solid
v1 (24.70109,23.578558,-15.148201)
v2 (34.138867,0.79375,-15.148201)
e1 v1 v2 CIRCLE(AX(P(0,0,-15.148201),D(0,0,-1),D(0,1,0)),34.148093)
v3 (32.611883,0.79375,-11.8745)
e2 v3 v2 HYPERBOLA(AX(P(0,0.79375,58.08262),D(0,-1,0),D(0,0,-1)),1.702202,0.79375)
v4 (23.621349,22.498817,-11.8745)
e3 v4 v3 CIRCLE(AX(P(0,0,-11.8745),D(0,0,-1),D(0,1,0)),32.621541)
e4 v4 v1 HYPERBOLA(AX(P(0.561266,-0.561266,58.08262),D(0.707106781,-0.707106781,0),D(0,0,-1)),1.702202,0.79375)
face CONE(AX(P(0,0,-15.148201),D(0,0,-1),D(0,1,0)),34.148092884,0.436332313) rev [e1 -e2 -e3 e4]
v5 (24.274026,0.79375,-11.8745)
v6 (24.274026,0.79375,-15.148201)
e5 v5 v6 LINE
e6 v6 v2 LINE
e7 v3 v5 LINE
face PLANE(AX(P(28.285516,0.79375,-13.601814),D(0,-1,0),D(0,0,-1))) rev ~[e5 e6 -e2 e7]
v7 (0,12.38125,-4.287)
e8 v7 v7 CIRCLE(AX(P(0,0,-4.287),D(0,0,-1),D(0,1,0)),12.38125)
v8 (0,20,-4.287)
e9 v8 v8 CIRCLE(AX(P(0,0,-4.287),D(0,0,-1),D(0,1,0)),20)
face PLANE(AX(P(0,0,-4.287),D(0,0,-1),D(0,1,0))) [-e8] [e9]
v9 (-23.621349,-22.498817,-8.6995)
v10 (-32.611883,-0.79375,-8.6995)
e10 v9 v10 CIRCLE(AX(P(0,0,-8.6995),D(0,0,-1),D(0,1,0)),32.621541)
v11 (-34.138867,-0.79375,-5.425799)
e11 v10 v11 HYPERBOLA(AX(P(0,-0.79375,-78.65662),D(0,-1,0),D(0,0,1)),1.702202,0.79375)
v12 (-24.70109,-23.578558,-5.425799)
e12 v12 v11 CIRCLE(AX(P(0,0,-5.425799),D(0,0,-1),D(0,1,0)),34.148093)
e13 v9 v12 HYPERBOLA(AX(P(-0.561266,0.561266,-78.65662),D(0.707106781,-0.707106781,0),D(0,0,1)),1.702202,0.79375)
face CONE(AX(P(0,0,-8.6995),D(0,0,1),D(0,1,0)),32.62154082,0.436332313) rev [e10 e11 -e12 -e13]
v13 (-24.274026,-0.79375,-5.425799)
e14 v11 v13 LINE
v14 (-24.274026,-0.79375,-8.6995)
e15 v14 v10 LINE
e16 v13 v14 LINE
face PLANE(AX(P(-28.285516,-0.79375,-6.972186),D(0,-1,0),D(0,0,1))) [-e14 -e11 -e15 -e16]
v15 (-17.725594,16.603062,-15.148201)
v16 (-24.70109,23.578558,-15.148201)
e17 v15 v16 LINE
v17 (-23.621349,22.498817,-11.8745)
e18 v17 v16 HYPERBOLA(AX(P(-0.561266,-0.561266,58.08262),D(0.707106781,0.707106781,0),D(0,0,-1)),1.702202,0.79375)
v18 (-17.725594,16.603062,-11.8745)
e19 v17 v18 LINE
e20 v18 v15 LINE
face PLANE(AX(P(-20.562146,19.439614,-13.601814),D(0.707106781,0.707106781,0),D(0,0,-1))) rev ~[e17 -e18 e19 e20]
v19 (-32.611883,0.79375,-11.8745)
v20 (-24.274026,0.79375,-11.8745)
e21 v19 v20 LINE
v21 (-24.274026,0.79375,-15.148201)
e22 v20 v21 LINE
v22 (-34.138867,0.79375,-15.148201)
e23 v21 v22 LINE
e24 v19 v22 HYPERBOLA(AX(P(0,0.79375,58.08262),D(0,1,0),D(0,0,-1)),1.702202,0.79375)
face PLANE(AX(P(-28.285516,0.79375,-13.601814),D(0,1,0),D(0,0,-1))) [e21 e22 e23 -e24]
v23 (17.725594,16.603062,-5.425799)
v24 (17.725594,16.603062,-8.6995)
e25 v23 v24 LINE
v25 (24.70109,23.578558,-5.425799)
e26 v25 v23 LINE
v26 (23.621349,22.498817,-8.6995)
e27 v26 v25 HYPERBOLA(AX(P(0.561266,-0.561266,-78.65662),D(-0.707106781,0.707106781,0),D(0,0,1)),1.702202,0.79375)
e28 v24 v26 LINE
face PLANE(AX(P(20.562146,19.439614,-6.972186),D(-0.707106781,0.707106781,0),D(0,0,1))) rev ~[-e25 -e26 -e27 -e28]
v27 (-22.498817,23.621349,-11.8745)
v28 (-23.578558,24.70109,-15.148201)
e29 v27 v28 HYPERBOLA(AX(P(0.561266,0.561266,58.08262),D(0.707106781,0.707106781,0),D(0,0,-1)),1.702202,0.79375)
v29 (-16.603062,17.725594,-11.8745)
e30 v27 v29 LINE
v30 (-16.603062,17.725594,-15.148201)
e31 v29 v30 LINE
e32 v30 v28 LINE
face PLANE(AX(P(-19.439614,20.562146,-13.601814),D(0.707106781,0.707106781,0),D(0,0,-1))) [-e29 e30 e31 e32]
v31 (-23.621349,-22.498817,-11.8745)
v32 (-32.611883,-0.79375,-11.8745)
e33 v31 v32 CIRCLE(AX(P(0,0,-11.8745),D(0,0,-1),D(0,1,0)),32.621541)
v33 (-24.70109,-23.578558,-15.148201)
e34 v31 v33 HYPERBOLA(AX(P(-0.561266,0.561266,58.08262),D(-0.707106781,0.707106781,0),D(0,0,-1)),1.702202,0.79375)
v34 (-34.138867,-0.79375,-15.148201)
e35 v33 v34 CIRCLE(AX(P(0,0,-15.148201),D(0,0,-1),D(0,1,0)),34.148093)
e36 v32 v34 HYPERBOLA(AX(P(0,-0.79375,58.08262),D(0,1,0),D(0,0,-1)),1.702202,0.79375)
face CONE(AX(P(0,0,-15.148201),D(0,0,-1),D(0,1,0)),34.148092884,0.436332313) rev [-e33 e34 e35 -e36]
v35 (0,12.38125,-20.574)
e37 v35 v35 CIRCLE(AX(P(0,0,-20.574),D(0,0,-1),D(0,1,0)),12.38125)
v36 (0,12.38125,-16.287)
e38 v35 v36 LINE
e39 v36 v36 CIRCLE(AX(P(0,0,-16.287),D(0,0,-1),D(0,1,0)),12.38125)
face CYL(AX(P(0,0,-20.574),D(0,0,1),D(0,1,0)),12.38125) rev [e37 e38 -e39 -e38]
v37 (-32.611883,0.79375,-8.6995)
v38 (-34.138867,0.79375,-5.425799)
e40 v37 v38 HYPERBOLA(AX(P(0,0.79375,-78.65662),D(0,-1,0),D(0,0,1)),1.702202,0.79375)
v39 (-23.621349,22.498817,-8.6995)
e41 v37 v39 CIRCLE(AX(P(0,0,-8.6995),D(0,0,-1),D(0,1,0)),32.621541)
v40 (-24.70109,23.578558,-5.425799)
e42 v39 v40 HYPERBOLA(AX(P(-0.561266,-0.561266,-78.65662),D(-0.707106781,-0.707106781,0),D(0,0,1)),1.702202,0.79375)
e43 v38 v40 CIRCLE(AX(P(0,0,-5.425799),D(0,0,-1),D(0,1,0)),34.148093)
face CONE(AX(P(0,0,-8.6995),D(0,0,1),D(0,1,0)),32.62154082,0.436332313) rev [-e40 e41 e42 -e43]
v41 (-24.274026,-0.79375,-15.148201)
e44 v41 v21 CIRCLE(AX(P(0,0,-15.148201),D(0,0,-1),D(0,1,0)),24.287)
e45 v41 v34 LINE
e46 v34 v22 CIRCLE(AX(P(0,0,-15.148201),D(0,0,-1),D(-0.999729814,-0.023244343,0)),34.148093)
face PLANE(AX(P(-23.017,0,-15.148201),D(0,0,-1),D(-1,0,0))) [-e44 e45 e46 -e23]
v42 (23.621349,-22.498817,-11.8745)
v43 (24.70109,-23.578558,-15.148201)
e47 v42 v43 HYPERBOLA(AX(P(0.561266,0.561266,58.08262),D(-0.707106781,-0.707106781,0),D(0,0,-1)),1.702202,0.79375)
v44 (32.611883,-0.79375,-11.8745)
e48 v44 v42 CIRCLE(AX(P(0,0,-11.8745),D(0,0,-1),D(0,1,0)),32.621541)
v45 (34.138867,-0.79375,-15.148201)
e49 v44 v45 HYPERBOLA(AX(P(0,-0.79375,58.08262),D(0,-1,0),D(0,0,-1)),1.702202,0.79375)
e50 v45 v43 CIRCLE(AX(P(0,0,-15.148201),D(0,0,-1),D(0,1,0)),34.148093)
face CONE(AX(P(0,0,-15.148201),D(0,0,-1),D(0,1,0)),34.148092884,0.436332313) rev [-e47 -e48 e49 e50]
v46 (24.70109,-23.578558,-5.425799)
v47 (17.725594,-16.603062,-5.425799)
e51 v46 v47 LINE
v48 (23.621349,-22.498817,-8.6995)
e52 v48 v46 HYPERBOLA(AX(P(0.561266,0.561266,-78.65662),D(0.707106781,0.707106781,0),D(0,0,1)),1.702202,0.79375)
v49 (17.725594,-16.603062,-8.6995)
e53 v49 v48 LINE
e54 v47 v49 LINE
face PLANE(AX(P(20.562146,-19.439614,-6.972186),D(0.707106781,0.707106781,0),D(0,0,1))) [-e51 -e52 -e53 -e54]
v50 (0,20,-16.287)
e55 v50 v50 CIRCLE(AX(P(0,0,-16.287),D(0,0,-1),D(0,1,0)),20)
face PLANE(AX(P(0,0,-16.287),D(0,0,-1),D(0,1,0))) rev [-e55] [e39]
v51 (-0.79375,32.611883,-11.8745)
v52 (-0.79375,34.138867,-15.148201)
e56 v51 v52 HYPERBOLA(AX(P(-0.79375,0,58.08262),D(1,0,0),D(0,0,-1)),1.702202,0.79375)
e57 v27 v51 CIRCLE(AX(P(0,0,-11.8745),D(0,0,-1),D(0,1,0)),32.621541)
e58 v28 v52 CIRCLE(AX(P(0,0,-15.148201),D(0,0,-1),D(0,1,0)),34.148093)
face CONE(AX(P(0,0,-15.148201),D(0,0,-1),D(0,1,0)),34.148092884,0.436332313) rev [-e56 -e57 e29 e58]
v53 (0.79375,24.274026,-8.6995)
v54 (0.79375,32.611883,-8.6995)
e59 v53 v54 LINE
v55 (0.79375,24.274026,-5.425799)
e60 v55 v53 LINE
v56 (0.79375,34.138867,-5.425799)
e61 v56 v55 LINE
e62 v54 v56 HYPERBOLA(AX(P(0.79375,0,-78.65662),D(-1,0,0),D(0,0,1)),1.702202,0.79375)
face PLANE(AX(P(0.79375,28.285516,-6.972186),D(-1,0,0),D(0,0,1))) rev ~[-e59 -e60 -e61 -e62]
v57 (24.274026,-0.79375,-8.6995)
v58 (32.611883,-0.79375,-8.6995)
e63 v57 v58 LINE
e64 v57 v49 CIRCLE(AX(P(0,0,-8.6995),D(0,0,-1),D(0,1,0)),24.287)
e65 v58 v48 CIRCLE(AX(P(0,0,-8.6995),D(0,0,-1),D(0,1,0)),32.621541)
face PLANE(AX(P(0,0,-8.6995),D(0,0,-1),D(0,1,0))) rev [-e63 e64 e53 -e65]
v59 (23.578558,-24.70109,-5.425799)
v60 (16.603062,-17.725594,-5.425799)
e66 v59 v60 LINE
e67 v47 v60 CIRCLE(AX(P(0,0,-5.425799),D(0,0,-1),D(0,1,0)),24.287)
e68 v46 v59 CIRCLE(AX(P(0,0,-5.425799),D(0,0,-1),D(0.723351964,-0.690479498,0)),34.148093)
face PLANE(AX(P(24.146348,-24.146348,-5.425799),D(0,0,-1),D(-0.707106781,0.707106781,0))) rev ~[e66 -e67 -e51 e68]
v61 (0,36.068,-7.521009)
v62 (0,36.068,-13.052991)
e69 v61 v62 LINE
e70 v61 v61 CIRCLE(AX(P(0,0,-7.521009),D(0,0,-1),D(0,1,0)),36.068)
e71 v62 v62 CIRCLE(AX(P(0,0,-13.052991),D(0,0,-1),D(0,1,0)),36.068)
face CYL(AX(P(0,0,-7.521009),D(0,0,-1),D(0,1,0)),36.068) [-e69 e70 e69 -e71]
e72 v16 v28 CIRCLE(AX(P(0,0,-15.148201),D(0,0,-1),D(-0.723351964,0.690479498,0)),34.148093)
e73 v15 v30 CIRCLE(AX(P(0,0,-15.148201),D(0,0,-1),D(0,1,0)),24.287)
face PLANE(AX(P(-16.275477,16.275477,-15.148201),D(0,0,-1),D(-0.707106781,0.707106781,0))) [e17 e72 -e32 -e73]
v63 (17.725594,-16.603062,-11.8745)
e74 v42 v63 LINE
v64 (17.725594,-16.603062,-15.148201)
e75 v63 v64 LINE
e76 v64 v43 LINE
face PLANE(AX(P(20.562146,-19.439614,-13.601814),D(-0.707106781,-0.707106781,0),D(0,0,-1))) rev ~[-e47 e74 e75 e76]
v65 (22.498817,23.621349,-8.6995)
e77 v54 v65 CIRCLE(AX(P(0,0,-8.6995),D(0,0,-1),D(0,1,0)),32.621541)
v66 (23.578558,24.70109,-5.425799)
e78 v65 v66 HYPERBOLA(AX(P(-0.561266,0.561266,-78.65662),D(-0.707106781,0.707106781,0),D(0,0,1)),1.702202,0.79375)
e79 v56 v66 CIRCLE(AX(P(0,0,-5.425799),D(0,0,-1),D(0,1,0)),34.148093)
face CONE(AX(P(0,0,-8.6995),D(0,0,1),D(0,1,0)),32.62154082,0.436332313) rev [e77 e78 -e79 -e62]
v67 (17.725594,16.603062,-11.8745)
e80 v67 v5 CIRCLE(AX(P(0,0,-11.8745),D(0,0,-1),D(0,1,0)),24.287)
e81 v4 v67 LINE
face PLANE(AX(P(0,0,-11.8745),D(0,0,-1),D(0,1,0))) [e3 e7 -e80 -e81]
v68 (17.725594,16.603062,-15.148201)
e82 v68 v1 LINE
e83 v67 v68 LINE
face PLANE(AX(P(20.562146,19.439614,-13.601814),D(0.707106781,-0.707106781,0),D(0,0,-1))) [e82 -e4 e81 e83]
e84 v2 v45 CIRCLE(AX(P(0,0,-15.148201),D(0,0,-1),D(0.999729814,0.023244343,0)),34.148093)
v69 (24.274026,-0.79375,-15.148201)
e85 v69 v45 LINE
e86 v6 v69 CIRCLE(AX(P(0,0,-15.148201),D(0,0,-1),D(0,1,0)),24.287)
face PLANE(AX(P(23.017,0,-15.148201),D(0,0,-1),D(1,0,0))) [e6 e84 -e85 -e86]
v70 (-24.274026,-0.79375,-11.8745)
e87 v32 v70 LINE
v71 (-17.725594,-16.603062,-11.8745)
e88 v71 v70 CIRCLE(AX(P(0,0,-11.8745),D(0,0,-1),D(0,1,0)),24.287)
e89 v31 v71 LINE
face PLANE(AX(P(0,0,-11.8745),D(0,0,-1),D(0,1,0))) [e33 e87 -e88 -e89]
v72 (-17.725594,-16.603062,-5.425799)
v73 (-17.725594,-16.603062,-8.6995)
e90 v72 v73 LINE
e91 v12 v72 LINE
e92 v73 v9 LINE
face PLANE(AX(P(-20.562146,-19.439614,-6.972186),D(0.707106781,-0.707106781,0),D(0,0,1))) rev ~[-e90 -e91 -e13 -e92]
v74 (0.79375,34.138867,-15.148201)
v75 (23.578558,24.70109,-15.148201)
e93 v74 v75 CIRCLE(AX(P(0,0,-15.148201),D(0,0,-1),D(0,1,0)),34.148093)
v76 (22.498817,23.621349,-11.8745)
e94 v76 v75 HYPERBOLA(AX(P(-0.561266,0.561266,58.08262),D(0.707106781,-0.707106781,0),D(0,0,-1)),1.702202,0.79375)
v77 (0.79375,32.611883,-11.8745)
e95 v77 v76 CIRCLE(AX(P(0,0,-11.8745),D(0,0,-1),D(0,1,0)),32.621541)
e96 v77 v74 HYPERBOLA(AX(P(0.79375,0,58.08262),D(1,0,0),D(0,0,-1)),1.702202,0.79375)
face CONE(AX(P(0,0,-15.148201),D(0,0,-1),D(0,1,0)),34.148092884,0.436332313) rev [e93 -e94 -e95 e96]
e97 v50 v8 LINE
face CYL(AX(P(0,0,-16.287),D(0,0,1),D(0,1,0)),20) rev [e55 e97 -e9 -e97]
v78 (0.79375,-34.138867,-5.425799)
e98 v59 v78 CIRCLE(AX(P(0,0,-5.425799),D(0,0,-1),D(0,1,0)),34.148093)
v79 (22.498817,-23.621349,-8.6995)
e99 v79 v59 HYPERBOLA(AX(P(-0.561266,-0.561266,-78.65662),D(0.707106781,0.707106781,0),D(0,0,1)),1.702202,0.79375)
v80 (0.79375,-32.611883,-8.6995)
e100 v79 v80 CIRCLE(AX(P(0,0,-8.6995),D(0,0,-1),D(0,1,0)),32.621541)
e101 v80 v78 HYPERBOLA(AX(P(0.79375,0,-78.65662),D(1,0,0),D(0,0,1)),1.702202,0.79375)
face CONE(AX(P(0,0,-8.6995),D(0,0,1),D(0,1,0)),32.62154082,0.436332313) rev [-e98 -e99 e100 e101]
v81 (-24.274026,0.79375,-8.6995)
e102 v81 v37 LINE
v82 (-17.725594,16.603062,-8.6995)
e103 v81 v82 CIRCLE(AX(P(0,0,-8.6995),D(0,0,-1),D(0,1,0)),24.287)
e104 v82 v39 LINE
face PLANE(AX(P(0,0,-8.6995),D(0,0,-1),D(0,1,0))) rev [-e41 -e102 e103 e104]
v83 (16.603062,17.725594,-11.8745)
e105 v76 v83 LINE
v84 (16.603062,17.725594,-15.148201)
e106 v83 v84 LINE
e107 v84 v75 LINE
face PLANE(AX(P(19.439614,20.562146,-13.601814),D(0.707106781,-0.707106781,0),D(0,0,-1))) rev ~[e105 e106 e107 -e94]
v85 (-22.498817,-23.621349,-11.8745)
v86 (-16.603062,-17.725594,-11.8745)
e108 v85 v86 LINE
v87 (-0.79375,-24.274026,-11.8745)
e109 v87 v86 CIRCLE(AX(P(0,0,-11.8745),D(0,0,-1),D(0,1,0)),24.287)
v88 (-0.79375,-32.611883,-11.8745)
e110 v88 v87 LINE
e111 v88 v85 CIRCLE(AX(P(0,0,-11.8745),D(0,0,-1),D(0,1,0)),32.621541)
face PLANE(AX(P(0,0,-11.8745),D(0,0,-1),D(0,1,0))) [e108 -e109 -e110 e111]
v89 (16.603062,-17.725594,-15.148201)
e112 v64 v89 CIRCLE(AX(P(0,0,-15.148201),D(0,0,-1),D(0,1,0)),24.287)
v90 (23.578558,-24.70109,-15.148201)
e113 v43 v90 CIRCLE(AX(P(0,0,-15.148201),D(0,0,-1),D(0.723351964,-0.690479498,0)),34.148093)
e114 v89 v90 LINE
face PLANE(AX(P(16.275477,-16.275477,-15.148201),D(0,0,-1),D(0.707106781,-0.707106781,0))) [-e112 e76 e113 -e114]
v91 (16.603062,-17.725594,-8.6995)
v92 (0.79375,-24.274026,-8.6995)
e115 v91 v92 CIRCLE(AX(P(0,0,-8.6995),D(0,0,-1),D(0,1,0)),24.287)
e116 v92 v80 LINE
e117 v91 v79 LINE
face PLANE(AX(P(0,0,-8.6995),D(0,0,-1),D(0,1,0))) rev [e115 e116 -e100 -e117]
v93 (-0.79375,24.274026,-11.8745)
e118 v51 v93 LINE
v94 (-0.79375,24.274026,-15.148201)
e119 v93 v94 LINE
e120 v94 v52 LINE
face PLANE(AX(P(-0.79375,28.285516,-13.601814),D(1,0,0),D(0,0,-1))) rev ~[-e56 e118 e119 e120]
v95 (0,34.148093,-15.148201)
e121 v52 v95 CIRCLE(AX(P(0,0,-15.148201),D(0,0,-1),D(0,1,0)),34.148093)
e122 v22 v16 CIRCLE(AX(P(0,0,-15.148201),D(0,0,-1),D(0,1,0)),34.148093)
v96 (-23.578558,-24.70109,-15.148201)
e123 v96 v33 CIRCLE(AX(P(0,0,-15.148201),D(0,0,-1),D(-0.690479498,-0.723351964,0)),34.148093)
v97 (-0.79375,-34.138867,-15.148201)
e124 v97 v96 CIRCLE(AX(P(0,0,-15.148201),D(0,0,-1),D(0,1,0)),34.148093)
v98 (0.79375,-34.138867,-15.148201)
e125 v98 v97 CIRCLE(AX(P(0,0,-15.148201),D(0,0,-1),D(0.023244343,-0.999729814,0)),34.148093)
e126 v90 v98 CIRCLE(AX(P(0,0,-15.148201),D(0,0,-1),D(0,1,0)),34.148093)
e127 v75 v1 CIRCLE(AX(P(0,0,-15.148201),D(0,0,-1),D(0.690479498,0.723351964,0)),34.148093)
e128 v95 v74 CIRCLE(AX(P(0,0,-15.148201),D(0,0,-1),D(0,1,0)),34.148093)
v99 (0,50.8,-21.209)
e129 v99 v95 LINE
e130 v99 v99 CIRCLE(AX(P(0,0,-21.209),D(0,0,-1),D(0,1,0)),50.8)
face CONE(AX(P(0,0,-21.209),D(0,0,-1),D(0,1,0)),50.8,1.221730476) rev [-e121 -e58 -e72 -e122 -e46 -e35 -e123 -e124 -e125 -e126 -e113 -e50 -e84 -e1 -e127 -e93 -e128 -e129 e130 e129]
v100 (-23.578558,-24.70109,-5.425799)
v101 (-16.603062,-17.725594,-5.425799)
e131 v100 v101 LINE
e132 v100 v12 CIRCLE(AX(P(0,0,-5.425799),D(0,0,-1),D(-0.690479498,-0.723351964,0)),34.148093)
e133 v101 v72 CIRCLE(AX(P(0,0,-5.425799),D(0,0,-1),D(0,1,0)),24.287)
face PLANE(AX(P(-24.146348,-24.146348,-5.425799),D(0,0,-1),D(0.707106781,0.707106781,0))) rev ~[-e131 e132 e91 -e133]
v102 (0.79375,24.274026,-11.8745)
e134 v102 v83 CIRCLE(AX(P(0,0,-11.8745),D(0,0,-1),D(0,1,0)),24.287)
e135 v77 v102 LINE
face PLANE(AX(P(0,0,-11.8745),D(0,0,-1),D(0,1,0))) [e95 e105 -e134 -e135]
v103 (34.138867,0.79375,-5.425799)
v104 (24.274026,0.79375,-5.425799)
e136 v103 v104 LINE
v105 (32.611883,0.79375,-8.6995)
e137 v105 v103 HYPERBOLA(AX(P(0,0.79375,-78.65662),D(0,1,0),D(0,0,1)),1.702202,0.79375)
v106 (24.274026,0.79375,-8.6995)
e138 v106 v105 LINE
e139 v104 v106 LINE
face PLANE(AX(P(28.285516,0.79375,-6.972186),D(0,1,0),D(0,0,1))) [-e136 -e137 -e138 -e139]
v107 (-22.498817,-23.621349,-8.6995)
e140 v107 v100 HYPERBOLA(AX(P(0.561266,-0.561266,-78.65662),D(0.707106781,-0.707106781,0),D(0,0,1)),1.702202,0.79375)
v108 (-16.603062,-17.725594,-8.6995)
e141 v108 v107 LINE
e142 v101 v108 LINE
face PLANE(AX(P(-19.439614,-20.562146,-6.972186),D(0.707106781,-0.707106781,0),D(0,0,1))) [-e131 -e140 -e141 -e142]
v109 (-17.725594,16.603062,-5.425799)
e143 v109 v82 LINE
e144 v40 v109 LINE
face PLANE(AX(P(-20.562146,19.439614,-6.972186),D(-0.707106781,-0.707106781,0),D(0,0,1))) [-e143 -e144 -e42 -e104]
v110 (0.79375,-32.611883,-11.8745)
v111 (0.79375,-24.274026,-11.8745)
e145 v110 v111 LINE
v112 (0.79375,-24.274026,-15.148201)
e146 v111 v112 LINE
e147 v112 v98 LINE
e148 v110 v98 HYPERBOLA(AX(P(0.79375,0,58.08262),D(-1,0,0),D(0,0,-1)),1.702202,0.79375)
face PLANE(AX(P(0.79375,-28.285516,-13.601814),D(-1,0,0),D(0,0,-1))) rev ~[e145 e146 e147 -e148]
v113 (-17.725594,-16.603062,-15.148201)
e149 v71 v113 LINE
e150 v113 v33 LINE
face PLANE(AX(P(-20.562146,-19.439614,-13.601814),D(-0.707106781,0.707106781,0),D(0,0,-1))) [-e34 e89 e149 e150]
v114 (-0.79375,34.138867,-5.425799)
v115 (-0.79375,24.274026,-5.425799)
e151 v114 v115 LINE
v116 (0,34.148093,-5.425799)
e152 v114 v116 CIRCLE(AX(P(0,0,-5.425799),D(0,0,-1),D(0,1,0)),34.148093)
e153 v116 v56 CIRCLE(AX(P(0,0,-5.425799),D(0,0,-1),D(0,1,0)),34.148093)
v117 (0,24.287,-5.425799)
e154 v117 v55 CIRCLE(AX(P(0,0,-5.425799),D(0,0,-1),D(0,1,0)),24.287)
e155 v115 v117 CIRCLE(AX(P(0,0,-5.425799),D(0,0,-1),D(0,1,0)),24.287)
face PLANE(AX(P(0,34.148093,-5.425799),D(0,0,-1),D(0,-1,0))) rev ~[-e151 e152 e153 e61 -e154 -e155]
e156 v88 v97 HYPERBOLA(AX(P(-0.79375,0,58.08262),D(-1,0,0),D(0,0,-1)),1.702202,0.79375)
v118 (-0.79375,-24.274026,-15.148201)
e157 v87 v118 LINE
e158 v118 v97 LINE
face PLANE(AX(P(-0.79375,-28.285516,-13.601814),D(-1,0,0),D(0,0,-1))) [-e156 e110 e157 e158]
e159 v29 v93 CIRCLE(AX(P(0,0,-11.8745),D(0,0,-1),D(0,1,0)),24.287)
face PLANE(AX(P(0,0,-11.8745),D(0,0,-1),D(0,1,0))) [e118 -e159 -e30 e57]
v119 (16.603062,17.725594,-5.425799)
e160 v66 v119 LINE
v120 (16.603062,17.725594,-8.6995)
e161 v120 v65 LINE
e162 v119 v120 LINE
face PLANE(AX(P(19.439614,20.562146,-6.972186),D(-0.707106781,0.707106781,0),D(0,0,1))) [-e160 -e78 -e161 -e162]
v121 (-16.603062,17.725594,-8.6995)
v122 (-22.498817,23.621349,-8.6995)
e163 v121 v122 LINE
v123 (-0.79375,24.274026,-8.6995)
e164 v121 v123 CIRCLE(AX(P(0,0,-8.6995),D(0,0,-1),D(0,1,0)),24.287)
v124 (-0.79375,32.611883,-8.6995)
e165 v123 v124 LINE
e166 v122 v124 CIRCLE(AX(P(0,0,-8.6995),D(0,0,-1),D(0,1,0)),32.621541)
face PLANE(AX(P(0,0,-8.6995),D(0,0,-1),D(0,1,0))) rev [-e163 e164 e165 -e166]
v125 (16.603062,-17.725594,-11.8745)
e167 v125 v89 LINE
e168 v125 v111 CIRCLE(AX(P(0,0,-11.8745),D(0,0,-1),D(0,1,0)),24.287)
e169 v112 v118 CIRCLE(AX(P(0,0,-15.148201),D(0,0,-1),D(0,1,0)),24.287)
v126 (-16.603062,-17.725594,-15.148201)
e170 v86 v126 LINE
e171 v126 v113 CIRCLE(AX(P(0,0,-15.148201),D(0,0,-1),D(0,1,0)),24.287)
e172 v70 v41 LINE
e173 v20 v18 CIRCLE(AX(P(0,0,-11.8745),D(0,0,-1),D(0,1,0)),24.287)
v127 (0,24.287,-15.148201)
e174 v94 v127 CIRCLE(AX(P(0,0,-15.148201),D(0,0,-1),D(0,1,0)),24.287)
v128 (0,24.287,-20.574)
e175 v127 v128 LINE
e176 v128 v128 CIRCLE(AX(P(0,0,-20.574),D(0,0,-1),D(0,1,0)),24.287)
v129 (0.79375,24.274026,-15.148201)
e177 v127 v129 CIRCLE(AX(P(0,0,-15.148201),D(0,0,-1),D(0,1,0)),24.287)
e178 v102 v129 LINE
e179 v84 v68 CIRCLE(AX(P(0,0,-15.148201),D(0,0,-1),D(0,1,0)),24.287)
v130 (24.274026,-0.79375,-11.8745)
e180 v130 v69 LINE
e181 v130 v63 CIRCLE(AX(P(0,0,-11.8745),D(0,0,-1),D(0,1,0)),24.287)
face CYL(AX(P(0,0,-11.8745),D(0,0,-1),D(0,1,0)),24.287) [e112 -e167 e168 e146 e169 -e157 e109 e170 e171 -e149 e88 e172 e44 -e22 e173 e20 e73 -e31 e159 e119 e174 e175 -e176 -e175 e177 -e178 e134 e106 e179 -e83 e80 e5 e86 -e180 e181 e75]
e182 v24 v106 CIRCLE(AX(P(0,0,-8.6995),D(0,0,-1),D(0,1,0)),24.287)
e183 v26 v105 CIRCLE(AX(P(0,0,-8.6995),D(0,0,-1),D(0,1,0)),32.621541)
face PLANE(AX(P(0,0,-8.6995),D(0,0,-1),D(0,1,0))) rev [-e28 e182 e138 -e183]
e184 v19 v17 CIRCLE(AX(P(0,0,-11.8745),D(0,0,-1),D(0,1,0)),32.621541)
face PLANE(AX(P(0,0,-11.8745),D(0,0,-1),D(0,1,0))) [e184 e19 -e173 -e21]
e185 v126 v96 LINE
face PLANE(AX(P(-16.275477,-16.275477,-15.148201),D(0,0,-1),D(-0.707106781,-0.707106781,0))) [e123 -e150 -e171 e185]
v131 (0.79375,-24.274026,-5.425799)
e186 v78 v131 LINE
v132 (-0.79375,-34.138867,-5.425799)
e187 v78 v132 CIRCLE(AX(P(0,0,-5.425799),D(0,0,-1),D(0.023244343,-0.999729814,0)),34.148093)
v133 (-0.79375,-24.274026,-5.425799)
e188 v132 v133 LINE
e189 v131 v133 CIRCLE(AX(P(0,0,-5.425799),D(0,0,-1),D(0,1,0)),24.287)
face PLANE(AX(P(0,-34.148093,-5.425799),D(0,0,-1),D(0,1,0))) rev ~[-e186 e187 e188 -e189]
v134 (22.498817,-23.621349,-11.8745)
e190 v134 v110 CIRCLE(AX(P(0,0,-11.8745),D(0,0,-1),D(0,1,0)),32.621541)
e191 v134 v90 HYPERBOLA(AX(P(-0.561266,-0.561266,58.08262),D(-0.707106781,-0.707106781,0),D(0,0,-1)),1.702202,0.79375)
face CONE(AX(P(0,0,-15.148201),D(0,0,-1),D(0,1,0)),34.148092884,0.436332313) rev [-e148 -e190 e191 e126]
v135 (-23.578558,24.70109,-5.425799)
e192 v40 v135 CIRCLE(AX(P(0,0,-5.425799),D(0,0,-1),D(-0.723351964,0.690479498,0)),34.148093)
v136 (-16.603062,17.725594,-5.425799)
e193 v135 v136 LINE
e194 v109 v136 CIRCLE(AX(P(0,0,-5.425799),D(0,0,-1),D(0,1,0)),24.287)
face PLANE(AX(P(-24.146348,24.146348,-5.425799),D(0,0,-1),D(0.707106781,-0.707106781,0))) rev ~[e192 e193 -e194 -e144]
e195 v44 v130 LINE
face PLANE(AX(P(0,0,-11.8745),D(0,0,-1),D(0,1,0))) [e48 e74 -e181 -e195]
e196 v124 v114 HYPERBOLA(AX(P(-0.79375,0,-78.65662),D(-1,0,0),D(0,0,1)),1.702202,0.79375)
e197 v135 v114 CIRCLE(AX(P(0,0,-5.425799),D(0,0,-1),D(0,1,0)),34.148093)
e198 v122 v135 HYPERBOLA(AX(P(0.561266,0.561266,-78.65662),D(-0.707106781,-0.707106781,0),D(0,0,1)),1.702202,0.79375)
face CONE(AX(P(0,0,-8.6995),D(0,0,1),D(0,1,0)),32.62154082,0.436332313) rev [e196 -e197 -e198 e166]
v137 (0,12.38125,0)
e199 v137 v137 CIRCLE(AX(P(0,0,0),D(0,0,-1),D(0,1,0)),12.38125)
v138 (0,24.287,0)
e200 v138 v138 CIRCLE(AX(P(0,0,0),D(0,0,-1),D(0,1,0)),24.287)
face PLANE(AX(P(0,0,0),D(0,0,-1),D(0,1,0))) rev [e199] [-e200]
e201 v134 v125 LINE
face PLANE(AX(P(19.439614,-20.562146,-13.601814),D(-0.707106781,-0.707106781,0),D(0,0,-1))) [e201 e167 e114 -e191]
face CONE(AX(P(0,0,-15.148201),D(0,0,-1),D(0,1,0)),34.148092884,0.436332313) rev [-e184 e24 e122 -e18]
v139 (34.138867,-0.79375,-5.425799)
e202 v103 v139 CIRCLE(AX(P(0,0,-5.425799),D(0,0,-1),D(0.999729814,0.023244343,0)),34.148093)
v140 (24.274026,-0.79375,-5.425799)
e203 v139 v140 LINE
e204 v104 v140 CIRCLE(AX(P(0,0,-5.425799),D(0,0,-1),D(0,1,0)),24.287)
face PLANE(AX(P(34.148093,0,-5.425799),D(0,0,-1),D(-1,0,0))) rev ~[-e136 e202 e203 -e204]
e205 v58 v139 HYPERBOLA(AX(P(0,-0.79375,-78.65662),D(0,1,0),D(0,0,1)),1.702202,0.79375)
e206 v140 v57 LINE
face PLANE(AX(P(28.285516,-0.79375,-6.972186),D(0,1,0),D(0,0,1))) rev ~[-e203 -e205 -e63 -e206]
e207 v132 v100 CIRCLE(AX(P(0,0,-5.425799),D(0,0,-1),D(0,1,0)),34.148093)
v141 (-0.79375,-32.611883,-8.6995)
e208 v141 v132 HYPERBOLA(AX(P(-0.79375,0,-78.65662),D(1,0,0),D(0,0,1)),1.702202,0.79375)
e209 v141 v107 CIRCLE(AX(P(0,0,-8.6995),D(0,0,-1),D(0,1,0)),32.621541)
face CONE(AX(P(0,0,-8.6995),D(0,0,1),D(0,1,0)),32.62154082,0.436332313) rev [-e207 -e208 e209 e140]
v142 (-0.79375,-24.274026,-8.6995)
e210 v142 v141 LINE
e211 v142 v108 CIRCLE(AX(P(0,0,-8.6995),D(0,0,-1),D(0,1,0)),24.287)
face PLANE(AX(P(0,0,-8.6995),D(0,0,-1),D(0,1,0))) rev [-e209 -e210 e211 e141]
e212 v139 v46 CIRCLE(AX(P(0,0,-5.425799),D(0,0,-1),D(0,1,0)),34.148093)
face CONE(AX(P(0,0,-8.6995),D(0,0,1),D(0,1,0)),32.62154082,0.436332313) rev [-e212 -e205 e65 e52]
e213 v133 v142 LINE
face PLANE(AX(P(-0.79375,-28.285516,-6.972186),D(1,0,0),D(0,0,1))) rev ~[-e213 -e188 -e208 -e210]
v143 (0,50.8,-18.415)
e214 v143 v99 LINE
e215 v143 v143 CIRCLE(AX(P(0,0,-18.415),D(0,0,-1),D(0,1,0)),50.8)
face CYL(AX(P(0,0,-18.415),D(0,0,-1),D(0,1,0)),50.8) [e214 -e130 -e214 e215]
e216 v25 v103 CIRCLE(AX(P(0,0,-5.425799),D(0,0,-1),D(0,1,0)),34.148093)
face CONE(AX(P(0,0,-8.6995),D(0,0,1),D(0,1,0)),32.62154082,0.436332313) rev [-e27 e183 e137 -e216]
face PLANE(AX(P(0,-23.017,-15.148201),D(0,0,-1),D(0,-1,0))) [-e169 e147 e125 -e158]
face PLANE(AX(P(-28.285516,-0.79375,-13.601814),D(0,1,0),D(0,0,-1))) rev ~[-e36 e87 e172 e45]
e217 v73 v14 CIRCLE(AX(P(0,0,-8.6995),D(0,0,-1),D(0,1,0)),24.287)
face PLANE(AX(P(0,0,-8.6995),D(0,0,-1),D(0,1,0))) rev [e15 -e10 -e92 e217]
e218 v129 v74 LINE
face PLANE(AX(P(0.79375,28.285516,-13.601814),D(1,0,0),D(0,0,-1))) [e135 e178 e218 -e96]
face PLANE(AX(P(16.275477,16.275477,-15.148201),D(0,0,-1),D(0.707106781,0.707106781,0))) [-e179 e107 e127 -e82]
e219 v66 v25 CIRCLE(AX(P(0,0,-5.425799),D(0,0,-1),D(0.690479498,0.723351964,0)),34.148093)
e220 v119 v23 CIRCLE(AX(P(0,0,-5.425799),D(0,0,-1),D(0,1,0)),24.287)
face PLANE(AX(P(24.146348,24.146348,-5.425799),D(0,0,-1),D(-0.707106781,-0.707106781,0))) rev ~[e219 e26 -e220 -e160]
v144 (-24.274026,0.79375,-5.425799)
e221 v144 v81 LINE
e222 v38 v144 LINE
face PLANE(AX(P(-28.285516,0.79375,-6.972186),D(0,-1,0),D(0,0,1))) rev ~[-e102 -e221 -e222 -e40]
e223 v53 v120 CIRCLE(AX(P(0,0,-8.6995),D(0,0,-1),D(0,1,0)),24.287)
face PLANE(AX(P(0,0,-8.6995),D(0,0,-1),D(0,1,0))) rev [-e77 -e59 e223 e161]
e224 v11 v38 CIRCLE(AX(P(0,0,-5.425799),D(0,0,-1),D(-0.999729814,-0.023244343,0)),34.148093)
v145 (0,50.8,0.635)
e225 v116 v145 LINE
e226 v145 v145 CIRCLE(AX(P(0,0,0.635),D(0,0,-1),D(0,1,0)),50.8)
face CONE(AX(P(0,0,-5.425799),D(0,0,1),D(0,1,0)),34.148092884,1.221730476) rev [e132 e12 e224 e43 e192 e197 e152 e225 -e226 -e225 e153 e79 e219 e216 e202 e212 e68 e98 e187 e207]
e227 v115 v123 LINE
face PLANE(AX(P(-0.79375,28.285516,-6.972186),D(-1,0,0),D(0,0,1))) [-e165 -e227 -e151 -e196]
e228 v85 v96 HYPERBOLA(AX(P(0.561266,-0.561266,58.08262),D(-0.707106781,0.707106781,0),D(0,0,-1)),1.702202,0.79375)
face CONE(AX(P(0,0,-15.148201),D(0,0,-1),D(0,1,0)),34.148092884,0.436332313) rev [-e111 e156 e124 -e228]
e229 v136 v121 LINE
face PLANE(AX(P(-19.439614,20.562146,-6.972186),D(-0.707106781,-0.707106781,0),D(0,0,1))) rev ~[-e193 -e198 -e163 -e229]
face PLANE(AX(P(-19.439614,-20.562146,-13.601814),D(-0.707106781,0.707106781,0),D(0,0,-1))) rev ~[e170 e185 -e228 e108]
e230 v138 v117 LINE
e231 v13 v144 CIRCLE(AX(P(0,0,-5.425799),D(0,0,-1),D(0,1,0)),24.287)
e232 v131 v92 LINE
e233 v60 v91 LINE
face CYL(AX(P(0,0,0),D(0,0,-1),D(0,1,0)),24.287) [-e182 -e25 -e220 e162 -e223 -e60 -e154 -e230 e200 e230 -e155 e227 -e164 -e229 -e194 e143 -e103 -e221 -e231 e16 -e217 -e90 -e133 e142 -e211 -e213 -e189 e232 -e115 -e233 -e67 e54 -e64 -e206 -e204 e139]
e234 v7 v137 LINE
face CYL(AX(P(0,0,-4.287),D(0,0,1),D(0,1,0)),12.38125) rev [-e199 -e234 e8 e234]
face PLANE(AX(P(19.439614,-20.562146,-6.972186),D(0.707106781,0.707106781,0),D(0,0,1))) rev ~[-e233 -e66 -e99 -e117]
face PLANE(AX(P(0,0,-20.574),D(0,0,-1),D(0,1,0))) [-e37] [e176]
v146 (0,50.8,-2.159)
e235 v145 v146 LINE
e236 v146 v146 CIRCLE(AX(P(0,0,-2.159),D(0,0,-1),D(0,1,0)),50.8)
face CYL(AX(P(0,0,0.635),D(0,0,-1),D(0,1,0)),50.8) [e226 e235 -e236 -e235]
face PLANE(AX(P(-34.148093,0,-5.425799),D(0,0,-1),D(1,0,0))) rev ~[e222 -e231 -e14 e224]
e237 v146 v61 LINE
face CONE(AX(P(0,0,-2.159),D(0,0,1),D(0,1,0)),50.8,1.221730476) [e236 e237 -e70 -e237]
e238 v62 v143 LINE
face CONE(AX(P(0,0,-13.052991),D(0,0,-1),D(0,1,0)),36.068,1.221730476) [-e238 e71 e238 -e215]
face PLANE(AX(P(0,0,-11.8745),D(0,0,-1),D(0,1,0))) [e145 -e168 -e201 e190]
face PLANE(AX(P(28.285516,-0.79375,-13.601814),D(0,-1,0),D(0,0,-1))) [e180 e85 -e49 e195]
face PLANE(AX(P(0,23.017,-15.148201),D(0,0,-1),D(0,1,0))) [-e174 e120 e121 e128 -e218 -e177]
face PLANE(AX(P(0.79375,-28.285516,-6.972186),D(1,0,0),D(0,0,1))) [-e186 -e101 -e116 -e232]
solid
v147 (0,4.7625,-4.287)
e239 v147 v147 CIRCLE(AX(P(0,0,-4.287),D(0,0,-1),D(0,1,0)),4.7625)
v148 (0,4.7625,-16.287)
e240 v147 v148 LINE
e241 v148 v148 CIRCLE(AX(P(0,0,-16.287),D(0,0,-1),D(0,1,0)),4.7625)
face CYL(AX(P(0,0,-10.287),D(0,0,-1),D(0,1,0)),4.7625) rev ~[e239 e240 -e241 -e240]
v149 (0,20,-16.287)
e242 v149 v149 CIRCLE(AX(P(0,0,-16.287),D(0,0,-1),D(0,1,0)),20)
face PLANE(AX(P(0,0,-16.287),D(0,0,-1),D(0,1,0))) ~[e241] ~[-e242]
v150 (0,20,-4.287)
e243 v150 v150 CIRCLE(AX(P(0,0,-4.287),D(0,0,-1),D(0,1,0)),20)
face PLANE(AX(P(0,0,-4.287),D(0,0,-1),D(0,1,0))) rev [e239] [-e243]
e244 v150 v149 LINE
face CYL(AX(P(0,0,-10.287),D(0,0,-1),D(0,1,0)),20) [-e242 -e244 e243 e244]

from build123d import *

# Parameters (mm, degrees)
SKETCH2_W           = 12
SKETCH2_H           = 15.2375
BOSS_EXTRUDE2_DEPTH = 0.79375
CIRPATTERN1_COUNT   = 8


with BuildPart() as part:
    # Sketch1 → Revolve1 (revolve)
    with BuildSketch(Plane(origin=(0, 0, 0), x_dir=(0, 0, -1), z_dir=(1, 0, 0))):
        Polygon((18.415, 50.8), (21.209, 50.8), (15.148201466, 34.148092884), (11.8745, 32.62154082), (11.8745, 24.287), (20.574, 24.287), (20.574, 12.38125), (16.287, 12.38125), (16.287, 20), (4.287, 20), (4.287, 12.38125), (0, 12.38125), (0, 24.287), (8.6995, 24.287), (8.6995, 32.62154082), (5.425798534, 34.148092884), (-0.635, 50.8), (2.159, 50.8), (7.521009491, 36.068), (13.052990509, 36.068), align=None)
    revolve(axis=Axis((0, 0, 0), (0, 0, -1)))

    # Sketch4 → Boss-Extrude2 (add, symmetric)
    with BuildSketch(Plane(origin=(0, 0, 0), x_dir=(0, 0, -1), z_dir=(1, 0, 0))):
        Polygon((8.6995, 32.62154082), (8.6995, 24.287), (8.6995, 23.017), (5.425798534, 23.017), (5.425798534, 24.287), (5.425798534, 34.148092884), align=None)
        Polygon((15.148201466, 23.017), (15.148201466, 24.287), (15.148201466, 34.148092884), (11.8745, 32.62154082), (11.8745, 24.287), (11.8745, 23.017), align=None)
    boss_extrude2 = extrude(amount=BOSS_EXTRUDE2_DEPTH, both=True)

    # CirPattern1: Boss-Extrude2 ×8 about axis
    cirpattern1_axis = Axis((0, 0, 0), (0, 0, 1))
    for i in range(1, CIRPATTERN1_COUNT):
        add(boss_extrude2.rotate(cirpattern1_axis, i * 360 / CIRPATTERN1_COUNT))


with BuildPart() as body_2:
    # Sketch2 → Revolve2 (revolve)
    with BuildSketch(Plane(origin=(0, 0, 0), x_dir=(0, 0, -1), z_dir=(1, 0, 0))):
        with Locations((10.287, 12.38125)):
            Rectangle(SKETCH2_W, SKETCH2_H)
    revolve(axis=Axis((0, 0, 0), (0, 0, -1)))


solid = Compound([part.part, body_2.part])
